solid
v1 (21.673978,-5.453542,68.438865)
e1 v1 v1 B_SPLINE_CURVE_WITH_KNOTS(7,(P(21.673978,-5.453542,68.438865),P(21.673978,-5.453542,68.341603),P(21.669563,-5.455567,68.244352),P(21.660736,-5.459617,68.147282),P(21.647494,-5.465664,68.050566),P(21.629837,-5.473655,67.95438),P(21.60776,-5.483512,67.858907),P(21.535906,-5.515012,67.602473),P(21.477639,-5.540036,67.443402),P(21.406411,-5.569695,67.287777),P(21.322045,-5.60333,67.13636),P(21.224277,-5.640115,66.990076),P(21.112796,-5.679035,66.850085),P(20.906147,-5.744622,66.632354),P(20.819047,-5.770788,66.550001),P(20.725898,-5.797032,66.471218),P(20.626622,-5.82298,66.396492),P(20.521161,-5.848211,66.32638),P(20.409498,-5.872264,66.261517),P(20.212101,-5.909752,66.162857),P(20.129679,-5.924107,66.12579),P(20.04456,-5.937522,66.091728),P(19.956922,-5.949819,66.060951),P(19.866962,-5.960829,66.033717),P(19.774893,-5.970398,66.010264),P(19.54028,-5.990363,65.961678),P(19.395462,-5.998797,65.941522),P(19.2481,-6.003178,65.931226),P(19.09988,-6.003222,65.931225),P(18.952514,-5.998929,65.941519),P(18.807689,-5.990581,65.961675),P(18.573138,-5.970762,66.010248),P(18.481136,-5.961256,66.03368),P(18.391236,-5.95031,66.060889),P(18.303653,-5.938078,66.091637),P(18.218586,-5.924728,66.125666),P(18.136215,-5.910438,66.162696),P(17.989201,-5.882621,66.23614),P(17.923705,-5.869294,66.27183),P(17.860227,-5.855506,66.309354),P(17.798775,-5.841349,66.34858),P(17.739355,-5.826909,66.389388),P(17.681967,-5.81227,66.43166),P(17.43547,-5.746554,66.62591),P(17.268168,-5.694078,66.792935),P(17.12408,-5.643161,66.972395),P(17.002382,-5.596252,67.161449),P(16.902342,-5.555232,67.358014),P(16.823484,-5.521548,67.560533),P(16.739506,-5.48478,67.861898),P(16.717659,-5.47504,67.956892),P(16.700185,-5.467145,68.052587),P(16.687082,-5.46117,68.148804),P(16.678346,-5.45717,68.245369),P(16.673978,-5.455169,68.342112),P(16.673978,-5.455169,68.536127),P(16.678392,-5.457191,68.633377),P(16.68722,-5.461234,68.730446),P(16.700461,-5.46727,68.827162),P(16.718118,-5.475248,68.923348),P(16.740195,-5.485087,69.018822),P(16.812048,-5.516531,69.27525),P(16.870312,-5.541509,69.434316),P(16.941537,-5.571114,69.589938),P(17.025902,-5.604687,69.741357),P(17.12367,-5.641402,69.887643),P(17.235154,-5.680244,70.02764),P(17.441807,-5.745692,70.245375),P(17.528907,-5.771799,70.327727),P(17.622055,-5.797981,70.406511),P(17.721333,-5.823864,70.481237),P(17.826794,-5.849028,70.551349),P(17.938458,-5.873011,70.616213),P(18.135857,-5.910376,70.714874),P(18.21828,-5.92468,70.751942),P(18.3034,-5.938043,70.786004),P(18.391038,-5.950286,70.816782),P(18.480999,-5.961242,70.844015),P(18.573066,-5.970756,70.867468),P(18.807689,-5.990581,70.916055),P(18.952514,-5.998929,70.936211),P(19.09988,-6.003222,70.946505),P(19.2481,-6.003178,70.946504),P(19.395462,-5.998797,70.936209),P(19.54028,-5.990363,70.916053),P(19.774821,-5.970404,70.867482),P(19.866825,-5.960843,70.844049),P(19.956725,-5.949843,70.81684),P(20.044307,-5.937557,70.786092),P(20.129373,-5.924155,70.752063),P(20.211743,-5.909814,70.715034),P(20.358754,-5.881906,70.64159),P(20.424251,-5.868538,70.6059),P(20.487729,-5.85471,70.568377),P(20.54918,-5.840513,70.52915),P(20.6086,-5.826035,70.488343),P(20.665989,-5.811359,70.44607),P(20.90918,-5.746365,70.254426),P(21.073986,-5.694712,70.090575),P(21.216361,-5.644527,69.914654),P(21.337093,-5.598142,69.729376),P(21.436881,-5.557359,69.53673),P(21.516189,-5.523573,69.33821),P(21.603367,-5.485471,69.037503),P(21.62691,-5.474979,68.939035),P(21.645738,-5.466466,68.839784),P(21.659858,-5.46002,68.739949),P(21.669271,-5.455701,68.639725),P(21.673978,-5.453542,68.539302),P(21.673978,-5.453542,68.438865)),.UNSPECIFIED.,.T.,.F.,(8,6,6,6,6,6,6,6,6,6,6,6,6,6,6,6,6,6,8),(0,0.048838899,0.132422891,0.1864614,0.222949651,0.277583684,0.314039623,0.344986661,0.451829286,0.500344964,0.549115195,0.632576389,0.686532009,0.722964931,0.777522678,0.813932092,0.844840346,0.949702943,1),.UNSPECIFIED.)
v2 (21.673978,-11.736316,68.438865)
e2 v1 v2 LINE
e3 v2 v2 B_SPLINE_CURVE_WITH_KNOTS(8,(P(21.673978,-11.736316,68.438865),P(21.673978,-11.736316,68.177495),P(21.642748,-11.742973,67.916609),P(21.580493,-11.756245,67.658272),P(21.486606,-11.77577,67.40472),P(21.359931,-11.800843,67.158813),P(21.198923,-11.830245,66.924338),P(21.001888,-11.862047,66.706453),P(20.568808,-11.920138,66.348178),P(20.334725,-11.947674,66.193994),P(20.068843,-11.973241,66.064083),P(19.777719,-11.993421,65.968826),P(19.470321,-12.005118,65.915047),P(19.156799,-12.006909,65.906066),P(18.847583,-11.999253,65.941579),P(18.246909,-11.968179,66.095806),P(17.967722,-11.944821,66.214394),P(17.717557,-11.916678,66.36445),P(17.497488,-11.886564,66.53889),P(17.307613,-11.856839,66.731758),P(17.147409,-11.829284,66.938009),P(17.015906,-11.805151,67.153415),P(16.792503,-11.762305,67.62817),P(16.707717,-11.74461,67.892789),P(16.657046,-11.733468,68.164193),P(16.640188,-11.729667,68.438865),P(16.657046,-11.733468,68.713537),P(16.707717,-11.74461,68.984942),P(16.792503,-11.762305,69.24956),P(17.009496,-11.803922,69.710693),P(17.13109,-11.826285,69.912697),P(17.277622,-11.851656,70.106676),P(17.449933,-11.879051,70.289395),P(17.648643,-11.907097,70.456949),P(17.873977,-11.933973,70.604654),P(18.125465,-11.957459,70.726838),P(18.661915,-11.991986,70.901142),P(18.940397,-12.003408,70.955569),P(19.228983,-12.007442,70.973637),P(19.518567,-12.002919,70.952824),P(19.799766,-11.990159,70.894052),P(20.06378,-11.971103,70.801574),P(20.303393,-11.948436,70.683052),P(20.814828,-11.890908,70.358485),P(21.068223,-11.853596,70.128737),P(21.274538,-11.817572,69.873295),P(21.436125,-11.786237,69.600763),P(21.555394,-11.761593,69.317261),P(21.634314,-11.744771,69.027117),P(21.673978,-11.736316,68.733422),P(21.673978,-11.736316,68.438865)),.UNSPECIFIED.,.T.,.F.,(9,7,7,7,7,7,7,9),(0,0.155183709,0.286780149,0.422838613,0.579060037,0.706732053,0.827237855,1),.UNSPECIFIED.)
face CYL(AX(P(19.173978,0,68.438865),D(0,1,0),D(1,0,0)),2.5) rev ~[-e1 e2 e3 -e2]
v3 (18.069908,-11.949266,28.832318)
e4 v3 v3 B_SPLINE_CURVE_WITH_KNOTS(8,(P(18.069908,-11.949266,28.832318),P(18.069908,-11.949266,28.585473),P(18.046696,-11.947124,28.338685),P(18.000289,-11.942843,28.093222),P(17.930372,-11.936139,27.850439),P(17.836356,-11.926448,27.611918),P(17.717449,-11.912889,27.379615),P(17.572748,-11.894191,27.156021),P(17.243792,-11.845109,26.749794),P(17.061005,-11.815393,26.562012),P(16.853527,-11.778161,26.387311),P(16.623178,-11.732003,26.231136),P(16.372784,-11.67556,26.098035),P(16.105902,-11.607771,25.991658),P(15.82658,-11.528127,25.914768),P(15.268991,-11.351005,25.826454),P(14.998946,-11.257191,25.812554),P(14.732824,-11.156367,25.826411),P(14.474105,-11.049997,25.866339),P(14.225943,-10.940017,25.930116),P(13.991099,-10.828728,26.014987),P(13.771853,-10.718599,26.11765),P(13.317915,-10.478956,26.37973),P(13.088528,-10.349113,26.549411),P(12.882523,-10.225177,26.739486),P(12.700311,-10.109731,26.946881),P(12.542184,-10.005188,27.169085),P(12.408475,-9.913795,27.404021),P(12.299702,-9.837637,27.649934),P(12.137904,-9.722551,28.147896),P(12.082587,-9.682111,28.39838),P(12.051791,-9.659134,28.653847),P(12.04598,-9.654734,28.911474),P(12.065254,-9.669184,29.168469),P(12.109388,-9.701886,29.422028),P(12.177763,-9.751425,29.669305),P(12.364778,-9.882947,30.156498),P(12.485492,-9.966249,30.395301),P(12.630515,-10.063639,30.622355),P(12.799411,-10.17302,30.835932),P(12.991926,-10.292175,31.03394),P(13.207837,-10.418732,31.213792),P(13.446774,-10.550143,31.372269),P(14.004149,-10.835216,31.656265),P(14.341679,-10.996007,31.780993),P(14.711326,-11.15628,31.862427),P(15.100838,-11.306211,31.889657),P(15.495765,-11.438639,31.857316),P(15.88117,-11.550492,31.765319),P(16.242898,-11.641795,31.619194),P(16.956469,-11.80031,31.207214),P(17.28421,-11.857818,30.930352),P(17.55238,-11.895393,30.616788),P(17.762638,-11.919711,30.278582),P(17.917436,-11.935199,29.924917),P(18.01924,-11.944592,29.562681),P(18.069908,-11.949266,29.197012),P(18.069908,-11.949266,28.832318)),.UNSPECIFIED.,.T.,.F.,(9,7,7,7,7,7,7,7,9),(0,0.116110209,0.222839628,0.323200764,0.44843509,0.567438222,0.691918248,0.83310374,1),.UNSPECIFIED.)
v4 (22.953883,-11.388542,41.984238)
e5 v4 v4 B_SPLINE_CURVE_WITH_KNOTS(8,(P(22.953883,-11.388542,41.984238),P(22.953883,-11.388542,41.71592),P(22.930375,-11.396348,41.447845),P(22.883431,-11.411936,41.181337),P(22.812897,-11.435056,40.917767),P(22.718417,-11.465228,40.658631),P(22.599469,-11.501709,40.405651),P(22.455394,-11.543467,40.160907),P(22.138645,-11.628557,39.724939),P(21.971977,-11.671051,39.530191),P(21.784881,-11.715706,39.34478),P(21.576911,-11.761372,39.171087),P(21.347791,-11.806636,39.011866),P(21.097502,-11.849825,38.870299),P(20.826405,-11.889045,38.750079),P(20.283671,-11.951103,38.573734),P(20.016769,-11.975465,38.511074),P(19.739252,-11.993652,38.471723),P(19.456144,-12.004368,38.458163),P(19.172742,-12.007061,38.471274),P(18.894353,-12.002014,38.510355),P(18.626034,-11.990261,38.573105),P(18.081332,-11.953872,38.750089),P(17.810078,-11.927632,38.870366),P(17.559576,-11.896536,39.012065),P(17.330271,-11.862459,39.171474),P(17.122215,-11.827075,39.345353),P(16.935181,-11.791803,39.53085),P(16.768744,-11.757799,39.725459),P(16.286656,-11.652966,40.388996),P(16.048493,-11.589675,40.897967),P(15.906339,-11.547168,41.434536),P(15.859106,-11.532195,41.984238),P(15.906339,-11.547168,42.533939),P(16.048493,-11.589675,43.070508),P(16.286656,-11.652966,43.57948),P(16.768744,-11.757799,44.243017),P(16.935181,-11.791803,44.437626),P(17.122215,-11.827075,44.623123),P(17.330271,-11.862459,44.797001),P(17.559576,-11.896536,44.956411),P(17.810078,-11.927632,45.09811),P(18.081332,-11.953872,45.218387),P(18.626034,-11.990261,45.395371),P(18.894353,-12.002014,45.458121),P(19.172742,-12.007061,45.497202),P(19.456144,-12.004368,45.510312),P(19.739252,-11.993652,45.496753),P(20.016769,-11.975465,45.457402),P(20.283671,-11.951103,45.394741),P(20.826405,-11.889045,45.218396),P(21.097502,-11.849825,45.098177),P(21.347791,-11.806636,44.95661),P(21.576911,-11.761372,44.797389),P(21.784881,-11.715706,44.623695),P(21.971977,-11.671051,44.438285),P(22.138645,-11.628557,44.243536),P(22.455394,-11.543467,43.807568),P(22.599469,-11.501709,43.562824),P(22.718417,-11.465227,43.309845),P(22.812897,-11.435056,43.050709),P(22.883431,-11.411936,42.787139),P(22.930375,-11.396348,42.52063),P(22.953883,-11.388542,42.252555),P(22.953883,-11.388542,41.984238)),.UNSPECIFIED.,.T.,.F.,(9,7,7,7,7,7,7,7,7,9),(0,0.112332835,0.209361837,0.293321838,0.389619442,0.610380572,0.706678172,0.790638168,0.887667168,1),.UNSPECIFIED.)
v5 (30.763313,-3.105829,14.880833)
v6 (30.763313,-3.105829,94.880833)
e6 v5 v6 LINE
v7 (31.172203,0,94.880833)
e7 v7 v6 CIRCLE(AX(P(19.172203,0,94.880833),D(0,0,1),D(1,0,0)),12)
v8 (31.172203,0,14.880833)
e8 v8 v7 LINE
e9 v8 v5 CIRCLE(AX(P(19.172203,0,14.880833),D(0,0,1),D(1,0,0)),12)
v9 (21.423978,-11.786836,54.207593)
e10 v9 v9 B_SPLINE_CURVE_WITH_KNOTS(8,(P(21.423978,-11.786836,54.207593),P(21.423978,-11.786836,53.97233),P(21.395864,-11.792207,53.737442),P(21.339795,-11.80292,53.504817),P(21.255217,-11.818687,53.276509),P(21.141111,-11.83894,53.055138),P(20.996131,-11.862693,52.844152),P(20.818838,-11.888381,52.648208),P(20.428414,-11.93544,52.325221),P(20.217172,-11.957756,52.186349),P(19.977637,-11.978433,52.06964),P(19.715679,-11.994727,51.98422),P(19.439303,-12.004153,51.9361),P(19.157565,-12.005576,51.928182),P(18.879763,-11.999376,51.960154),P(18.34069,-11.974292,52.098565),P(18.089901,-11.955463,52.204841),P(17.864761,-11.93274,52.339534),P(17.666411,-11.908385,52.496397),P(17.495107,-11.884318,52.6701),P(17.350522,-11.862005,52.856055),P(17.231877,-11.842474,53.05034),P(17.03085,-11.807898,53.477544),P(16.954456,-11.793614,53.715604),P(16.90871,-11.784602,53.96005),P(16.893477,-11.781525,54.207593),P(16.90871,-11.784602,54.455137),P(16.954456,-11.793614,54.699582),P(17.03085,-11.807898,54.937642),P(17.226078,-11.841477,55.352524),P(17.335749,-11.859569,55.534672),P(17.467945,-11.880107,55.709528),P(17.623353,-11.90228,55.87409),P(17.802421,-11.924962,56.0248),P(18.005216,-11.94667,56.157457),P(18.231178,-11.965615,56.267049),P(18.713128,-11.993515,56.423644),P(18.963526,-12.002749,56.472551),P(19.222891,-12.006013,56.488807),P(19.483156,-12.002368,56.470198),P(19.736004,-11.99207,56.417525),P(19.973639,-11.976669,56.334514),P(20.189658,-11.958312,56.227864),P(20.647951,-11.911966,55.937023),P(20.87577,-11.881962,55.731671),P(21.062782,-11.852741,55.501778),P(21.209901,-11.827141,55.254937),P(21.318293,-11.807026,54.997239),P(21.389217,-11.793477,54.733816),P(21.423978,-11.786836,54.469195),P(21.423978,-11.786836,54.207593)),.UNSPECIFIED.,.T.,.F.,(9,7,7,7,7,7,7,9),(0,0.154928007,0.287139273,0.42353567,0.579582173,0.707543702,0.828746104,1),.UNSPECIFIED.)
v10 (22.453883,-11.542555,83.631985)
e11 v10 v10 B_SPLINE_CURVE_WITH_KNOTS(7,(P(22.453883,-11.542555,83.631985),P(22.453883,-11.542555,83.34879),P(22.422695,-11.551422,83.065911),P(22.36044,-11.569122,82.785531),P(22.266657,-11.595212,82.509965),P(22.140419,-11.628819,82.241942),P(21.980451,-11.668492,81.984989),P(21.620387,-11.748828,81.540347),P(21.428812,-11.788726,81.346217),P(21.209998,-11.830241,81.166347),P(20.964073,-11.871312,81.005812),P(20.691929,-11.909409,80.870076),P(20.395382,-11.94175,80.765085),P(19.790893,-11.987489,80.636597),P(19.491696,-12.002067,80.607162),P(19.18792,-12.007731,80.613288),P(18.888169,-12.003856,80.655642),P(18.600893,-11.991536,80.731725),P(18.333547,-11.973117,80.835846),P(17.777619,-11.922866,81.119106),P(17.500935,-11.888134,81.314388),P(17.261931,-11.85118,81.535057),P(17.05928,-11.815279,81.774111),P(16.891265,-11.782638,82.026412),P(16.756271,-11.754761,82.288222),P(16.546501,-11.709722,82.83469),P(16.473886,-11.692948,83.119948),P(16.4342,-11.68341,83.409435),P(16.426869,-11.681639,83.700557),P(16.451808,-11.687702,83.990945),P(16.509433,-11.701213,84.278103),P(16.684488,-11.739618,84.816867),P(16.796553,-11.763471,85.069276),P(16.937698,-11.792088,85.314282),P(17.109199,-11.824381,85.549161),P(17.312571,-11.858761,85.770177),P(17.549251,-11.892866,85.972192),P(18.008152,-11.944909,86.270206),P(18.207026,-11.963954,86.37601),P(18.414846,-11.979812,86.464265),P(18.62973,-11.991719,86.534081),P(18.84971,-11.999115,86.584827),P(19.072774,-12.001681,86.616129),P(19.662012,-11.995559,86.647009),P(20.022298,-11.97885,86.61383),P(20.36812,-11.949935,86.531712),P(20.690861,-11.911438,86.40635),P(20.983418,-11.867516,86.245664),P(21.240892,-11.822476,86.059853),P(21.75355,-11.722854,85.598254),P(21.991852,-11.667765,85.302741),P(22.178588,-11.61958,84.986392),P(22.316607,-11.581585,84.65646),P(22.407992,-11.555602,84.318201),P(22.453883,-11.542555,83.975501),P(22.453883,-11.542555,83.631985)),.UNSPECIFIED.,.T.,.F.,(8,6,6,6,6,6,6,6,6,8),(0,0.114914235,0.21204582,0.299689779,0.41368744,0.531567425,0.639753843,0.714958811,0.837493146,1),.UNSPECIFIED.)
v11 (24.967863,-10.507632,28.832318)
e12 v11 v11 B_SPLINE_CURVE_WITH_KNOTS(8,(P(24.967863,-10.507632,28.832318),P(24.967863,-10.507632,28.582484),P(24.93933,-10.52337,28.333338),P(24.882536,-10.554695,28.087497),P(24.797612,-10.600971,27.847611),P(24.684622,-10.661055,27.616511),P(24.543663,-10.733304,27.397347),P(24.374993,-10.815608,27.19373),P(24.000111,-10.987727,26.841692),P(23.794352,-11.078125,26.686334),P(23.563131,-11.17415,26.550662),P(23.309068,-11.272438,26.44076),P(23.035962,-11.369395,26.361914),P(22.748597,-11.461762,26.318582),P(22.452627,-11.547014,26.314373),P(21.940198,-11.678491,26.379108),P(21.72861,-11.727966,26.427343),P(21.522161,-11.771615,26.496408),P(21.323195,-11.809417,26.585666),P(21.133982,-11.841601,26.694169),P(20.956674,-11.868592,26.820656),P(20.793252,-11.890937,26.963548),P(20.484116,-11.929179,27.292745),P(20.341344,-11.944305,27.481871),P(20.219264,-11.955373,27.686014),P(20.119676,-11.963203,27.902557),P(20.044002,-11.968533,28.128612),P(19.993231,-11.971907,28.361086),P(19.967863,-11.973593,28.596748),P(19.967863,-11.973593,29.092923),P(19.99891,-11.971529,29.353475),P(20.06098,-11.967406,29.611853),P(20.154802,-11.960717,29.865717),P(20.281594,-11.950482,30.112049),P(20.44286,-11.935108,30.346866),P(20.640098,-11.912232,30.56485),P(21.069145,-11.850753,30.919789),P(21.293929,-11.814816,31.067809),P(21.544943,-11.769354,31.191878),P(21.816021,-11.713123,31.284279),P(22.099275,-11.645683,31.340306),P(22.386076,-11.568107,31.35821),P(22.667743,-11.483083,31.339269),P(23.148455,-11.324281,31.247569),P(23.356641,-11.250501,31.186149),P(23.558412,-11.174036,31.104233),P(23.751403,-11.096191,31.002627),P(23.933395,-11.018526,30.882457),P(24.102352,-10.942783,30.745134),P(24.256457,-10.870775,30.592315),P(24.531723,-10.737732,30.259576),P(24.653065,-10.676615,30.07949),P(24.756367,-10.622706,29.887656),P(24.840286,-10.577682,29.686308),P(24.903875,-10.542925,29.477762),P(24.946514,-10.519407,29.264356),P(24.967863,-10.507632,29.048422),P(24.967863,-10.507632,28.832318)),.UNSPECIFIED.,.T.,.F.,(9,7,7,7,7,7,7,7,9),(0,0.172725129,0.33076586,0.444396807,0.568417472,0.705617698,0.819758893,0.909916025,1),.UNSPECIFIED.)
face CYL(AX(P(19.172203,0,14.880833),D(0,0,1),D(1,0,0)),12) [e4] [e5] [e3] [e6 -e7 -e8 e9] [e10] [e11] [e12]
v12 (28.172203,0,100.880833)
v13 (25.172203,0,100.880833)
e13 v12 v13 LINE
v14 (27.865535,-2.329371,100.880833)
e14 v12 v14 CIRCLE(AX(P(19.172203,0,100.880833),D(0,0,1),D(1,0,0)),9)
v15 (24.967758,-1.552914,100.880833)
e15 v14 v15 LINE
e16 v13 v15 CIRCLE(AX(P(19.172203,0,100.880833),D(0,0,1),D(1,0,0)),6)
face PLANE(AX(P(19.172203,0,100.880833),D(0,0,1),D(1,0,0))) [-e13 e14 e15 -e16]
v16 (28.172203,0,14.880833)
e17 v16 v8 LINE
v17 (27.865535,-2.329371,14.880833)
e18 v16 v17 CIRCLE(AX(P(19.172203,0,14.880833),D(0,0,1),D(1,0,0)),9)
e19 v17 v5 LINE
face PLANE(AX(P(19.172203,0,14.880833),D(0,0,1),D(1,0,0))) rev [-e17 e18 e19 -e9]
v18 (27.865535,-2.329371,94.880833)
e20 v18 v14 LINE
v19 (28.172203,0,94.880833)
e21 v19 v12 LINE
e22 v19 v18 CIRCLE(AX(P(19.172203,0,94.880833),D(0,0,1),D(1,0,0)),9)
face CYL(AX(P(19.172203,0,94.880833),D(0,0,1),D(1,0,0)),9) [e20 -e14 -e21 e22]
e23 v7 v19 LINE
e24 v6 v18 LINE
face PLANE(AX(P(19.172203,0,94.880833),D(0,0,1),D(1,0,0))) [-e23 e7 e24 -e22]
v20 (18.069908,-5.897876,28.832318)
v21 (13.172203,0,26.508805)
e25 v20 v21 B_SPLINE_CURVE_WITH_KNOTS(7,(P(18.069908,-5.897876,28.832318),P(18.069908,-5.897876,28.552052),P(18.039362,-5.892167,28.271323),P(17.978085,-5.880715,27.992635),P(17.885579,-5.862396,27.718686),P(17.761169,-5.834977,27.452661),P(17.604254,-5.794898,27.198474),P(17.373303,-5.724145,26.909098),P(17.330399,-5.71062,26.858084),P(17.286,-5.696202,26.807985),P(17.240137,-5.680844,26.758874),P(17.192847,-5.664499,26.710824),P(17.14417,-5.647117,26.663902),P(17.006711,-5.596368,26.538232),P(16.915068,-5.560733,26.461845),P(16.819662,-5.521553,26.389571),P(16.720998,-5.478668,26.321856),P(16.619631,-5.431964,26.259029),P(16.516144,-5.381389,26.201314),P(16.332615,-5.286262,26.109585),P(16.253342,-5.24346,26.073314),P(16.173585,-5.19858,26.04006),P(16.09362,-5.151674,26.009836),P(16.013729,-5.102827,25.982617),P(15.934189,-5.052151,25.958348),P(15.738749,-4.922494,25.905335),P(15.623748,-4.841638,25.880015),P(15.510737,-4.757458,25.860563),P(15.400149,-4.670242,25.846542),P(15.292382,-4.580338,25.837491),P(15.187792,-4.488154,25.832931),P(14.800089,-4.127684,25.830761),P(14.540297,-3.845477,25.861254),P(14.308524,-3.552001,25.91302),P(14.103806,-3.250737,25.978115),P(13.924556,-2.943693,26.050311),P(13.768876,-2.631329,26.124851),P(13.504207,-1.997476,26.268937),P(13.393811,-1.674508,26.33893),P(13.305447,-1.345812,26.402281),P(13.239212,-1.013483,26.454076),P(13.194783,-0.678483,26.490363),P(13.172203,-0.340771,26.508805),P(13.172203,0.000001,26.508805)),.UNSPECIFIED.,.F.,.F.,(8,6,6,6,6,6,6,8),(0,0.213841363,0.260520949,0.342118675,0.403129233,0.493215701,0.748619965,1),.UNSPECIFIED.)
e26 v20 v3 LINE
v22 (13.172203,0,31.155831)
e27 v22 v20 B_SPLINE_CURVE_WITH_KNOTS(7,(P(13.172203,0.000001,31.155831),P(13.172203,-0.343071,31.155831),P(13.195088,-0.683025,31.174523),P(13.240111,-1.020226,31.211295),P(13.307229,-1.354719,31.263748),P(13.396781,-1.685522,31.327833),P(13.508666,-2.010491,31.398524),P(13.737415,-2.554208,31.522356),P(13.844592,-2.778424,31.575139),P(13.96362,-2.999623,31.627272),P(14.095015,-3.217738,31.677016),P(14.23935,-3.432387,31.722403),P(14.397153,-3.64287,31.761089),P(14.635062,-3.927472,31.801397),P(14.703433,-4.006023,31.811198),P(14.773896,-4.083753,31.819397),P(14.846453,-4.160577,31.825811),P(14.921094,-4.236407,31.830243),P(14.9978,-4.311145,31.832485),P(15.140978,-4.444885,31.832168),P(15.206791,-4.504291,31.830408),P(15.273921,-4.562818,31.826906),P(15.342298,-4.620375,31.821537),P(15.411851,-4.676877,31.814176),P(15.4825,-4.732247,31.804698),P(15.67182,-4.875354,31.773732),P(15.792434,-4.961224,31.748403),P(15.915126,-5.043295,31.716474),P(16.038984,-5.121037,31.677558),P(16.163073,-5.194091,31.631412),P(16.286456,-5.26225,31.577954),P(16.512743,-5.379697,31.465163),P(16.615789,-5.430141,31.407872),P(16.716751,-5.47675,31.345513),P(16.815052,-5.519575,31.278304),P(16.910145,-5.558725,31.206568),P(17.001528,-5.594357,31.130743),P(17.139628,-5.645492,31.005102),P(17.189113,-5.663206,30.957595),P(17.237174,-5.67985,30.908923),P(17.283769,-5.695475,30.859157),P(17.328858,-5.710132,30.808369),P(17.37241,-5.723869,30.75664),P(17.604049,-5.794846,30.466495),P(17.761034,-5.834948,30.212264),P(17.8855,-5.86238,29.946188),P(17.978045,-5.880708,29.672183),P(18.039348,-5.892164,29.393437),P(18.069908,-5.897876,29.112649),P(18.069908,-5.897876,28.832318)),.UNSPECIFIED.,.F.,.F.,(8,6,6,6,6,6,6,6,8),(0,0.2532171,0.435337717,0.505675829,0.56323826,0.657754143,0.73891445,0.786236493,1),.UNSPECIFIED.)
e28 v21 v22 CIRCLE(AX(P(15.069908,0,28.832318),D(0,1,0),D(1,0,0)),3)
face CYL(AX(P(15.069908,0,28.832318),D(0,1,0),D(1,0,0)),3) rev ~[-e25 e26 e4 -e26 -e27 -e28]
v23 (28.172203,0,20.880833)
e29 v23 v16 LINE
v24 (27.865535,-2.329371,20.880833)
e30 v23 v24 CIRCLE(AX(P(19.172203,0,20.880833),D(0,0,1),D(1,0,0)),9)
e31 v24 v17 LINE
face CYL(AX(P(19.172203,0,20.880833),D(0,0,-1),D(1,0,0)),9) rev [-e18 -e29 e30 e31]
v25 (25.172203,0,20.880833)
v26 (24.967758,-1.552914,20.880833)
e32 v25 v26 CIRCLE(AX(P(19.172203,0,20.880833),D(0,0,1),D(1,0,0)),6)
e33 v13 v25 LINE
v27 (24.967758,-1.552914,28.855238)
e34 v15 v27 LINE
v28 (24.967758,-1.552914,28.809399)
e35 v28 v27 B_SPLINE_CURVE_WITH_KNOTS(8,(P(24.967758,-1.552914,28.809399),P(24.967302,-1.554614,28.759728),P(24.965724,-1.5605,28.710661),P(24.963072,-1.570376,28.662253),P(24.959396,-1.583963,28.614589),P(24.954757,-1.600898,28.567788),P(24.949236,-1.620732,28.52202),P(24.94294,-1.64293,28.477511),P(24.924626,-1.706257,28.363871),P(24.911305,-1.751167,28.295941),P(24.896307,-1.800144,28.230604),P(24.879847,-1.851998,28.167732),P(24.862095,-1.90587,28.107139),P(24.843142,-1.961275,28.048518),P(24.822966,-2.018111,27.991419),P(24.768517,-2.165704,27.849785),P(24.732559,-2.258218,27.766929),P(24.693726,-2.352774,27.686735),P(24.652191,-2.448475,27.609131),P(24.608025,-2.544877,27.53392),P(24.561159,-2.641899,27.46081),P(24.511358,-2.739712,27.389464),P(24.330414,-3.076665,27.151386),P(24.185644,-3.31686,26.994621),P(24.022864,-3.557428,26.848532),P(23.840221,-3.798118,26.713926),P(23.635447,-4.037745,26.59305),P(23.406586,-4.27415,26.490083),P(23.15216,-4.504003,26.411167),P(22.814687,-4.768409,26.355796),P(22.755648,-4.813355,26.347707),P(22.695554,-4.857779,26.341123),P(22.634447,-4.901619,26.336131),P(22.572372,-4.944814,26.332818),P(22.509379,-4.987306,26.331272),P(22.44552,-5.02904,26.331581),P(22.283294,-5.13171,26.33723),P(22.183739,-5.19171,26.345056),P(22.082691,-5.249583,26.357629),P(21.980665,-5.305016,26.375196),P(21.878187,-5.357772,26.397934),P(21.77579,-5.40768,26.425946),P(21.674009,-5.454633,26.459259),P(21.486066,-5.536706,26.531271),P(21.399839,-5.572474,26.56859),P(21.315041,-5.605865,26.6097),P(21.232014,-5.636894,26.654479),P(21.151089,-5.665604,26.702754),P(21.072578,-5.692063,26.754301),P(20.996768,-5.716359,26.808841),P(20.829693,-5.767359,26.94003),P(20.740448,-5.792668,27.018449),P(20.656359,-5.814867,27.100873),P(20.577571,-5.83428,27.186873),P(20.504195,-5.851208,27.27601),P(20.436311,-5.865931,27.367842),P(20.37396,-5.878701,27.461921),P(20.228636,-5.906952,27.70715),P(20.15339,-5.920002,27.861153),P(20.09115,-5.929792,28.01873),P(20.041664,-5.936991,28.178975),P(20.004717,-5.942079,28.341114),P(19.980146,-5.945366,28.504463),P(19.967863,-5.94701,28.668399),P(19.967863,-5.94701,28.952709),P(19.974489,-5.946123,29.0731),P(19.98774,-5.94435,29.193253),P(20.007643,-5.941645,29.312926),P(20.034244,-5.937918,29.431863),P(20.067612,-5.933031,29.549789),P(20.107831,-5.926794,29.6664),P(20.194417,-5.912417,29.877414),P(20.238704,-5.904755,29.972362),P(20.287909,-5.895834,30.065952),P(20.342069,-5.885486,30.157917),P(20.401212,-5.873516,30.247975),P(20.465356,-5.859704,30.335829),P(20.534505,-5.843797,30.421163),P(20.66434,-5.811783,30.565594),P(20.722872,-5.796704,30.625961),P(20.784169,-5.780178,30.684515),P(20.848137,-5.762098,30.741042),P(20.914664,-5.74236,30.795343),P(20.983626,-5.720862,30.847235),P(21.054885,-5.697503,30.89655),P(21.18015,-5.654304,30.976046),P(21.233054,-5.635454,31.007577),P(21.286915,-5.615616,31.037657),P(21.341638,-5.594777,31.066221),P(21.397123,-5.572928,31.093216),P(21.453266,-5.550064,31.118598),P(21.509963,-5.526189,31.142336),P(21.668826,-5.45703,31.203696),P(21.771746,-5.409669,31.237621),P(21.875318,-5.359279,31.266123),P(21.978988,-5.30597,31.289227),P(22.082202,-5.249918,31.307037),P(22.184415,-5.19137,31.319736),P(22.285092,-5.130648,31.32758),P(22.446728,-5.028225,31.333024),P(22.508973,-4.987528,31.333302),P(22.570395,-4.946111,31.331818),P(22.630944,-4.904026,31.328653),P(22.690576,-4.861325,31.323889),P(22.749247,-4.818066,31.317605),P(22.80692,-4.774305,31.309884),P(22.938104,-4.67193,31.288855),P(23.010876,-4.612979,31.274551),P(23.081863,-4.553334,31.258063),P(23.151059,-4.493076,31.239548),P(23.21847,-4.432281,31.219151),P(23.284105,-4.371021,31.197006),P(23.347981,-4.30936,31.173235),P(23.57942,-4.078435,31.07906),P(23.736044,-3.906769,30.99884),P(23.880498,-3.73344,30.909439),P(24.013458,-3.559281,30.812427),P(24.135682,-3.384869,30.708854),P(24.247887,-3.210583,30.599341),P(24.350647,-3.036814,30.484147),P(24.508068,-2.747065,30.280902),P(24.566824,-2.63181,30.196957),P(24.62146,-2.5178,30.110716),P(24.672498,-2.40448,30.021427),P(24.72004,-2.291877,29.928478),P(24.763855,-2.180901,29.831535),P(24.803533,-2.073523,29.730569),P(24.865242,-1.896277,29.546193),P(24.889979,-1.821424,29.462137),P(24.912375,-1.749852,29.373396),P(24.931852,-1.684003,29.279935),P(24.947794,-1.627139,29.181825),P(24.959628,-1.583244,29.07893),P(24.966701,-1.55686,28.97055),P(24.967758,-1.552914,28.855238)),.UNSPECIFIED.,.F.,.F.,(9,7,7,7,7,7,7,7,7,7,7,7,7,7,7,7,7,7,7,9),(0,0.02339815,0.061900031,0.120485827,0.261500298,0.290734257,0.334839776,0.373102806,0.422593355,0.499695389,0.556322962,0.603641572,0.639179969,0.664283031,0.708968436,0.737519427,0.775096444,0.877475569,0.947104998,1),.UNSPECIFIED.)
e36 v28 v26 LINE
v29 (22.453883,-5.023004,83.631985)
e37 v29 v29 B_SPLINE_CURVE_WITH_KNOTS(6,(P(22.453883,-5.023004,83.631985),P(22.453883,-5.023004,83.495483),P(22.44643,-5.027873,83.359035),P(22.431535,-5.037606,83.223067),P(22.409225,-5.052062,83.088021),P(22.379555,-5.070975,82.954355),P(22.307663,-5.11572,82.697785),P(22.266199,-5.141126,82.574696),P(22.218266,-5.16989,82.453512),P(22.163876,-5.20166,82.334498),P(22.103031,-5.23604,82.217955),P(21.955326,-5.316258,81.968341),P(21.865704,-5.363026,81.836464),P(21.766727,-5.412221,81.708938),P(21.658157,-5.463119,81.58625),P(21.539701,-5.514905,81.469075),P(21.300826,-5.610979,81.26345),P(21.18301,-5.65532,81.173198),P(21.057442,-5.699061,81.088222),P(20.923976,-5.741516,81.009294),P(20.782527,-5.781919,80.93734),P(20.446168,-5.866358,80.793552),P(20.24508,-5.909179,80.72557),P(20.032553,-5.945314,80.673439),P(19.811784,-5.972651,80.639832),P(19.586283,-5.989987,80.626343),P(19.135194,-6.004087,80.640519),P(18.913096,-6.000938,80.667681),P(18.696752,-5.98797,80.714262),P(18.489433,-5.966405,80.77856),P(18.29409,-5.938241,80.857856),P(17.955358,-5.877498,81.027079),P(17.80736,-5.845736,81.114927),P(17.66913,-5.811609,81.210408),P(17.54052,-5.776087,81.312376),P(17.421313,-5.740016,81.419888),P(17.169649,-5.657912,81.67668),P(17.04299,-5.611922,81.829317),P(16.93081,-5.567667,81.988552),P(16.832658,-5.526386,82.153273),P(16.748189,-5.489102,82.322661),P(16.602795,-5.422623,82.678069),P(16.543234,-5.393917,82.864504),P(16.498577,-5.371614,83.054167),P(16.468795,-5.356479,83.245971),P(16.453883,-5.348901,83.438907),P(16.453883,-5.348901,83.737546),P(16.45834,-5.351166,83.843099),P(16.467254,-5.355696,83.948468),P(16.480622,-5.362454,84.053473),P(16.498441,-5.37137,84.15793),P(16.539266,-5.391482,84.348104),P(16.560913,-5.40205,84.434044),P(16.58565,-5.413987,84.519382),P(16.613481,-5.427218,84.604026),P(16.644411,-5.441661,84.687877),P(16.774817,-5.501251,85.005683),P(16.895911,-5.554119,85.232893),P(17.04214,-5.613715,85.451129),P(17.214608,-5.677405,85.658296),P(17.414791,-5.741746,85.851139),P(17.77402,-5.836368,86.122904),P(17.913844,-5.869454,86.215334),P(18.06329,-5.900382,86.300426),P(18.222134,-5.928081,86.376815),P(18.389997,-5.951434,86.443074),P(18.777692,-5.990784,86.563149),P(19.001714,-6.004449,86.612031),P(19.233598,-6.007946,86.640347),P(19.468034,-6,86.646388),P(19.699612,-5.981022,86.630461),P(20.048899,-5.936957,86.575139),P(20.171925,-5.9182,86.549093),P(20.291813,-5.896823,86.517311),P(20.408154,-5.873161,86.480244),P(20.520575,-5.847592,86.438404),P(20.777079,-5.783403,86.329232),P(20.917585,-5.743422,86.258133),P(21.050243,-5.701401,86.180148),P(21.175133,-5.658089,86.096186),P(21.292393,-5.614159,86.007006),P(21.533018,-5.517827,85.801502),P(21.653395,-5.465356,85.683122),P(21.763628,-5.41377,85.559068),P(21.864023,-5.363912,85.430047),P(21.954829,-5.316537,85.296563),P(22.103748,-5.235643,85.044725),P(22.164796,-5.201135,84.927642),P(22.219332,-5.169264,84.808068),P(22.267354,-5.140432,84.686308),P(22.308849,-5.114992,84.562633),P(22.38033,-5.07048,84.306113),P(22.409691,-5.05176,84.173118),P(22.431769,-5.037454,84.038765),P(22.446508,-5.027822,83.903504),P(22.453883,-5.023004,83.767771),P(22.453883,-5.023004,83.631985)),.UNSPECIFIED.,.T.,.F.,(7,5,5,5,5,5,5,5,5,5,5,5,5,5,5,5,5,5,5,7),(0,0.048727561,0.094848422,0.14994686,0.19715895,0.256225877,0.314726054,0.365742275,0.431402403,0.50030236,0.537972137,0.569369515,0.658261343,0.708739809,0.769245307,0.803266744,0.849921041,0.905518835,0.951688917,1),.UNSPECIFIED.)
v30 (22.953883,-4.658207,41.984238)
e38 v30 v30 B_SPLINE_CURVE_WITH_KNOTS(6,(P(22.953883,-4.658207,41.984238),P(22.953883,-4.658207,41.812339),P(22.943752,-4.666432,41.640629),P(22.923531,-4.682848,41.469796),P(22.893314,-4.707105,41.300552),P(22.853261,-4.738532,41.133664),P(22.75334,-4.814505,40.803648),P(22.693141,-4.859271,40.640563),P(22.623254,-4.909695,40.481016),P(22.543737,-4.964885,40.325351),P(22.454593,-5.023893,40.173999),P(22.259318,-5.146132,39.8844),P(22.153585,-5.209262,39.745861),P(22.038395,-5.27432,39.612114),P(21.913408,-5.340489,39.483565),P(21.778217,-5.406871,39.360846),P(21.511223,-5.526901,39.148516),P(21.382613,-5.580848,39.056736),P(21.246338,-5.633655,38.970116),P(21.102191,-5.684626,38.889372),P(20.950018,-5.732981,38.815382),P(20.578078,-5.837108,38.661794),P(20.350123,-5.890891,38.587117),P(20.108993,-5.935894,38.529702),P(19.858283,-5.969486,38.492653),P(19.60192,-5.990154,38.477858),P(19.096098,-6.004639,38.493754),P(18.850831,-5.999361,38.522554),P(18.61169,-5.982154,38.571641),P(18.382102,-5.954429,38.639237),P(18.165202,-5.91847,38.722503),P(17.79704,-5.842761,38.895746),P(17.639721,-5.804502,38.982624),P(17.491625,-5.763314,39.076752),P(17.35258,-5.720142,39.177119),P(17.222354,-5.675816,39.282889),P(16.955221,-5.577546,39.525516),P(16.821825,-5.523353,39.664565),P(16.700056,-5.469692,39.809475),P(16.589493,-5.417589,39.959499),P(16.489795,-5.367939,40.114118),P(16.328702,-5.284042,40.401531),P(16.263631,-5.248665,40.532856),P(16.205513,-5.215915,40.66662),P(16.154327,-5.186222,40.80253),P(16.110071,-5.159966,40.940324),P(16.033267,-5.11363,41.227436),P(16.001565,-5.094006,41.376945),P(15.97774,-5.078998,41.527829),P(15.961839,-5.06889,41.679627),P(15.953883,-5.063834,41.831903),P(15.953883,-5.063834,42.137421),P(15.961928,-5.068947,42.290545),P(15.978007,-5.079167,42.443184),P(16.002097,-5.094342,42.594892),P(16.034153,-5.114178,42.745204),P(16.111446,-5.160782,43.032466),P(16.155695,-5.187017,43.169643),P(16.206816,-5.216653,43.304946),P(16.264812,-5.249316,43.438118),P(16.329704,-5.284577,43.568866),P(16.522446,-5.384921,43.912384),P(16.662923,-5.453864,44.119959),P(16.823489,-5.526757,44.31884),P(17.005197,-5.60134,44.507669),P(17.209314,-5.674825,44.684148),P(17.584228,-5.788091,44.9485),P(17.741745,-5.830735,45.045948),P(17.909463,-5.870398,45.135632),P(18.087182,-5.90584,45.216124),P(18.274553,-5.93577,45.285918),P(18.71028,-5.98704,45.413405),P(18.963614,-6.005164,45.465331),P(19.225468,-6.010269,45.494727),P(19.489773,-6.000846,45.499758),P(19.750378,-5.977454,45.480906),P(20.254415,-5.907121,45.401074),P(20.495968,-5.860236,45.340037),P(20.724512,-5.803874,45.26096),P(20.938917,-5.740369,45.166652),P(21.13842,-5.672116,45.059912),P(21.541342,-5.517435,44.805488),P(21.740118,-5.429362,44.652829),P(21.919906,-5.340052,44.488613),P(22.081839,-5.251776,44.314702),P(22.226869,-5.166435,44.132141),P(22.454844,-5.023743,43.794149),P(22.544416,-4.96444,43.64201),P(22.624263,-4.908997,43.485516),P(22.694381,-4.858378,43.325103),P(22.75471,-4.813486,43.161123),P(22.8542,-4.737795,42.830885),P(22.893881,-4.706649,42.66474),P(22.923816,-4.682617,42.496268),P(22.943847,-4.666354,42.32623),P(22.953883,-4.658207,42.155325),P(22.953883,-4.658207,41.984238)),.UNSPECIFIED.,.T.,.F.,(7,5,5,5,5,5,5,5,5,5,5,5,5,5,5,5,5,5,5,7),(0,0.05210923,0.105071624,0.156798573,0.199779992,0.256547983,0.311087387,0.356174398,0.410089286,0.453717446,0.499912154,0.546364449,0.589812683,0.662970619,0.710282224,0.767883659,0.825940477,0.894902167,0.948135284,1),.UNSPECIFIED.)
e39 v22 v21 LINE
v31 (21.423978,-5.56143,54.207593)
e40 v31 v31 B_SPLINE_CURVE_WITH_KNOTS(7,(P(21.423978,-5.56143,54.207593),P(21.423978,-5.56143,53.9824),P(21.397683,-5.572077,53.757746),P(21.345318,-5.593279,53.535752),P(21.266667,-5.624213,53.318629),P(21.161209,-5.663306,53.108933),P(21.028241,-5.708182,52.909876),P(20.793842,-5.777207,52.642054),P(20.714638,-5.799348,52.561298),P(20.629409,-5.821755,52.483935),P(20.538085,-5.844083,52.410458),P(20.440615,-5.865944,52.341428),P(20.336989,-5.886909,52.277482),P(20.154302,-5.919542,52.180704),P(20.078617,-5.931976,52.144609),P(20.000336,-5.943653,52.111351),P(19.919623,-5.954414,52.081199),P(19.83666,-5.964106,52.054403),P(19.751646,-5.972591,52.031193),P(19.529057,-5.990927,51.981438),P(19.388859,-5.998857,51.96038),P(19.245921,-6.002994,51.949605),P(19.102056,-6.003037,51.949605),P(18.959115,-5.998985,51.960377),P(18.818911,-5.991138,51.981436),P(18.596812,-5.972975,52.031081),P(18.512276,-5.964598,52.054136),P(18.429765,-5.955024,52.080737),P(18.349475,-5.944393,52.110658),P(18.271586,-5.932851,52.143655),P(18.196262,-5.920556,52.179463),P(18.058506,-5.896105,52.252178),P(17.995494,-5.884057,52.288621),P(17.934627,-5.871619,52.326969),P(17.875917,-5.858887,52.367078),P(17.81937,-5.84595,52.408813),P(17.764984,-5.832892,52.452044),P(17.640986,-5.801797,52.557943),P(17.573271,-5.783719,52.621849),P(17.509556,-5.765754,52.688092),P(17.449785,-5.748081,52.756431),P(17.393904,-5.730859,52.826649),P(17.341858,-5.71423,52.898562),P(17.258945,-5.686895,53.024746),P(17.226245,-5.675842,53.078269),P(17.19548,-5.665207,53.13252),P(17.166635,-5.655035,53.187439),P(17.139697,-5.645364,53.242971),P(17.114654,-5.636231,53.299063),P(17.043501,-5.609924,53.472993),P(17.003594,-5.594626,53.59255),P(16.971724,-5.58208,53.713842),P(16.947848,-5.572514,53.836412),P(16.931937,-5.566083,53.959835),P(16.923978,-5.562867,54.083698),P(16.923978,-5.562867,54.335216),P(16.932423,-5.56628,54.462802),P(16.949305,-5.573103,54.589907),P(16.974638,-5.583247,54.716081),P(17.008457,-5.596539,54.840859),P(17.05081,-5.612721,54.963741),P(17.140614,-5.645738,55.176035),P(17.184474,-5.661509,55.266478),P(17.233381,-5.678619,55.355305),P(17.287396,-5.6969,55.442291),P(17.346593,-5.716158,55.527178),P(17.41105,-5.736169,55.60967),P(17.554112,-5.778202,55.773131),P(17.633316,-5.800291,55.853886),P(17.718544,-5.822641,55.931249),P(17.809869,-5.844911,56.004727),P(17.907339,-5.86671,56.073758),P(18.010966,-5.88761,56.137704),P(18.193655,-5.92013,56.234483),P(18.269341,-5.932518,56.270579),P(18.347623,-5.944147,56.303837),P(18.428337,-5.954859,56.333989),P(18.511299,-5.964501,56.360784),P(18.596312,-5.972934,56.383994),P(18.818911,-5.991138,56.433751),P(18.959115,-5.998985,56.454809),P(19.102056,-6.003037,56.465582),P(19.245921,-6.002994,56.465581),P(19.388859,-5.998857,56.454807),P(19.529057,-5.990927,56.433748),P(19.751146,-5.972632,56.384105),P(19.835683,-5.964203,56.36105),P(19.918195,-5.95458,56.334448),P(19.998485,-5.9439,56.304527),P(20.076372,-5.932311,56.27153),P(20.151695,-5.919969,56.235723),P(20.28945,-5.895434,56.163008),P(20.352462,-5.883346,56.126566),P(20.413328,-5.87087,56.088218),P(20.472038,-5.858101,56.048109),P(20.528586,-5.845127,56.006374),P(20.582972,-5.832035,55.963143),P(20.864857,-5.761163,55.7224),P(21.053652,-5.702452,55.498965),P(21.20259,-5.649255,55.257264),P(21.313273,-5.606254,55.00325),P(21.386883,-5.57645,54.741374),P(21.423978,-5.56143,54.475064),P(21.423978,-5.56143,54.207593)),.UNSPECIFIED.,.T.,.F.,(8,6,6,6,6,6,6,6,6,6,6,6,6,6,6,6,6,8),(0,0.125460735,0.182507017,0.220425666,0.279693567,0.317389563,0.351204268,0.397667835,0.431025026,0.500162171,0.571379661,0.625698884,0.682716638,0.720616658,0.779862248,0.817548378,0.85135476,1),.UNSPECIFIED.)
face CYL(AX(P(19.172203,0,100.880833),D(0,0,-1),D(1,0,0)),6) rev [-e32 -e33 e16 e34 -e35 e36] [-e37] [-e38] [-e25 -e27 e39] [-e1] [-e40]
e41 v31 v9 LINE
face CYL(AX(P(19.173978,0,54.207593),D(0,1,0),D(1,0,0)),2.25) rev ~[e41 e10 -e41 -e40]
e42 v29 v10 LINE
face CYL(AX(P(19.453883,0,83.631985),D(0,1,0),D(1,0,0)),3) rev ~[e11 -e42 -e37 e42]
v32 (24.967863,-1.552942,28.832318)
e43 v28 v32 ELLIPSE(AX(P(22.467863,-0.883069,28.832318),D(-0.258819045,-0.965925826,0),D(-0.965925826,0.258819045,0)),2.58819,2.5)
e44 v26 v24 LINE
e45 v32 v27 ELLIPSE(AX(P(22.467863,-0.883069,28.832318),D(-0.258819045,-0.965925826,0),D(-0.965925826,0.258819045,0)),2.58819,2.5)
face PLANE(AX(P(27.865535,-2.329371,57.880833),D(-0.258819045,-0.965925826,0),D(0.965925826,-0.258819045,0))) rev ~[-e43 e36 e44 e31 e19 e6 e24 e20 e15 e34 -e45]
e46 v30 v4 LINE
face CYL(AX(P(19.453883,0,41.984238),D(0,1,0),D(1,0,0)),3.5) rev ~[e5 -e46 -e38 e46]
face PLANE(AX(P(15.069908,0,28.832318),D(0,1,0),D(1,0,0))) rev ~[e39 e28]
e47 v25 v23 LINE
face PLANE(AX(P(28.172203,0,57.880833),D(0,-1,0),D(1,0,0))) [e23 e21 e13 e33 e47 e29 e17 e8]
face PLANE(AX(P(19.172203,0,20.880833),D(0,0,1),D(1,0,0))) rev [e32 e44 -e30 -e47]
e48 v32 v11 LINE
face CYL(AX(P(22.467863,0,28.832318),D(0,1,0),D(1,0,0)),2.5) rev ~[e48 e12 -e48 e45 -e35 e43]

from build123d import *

# Parameters (mm, degrees)
F1_ANGLE  = 345
F8_D      = 6
F8_DEPTH  = 12.001
F9_D      = 5
F9_DEPTH  = 12.0010001
F10_D     = 4.5
F10_DEPTH = 12.0010001006
F11_D     = 7
F11_DEPTH = 12.0010001006
F12_D     = 6
F12_DEPTH = 12.001000103
F13_D     = 5
F13_DEPTH = 12.001000103


with BuildPart() as f1:
    # F0 (on Front) → F1 (revolve)
    with BuildSketch(Plane.XZ):
        Polygon((25.1722027957, 100.8808328976), (25.1722027957, 20.8808328976), (28.1722027957, 20.8808328976), (28.1722027957, 14.8808328976), (31.1722027957, 14.8808328976), (31.1722027957, 94.8808328976), (28.1722027957, 94.8808328976), (28.1722027957, 100.8808328976), align=None)
    revolve(axis=Axis((19.1722027957, 0, 37.7046503127), (0, 0, 1)), revolution_arc=F1_ANGLE)

    # F8 (through all, one way)
    with BuildSketch(Plane(origin=(0, 0, 0), x_dir=(1, 0, 0), z_dir=(0, 1, 0))):
        with Locations((19.4538831711, -83.6319848895)):
            Circle(F8_D / 2)
    extrude(amount=-F8_DEPTH, mode=Mode.SUBTRACT)

    # F9 (through all, one way)
    with BuildSketch(Plane(origin=(0, 0, 0), x_dir=(1, 0, 0), z_dir=(0, 1, 0))):
        with Locations((19.1739778966, -68.4388652444)):
            Circle(F9_D / 2)
    extrude(amount=-F9_DEPTH, mode=Mode.SUBTRACT)

    # F10 (through all, one way)
    with BuildSketch(Plane(origin=(0, 0, 0), x_dir=(1, 0, 0), z_dir=(0, 1, 0))):
        with Locations((19.1739778966, -54.2075932026)):
            Circle(F10_D / 2)
    extrude(amount=-F10_DEPTH, mode=Mode.SUBTRACT)

    # F11 (through all, one way)
    with BuildSketch(Plane(origin=(0, 0, 0), x_dir=(1, 0, 0), z_dir=(0, 1, 0))):
        with Locations((19.4538831711, -41.9842377305)):
            Circle(F11_D / 2)
    extrude(amount=-F11_DEPTH, mode=Mode.SUBTRACT)

    # F12 (through all, one way)
    with BuildSketch(Plane(origin=(0, 0, 0), x_dir=(1, 0, 0), z_dir=(0, 1, 0))):
        with Locations((15.0699084625, -28.8323182613)):
            Circle(F12_D / 2)
    extrude(amount=-F12_DEPTH, mode=Mode.SUBTRACT)

    # F13 (through all, one way)
    with BuildSketch(Plane(origin=(0, 0, 0), x_dir=(1, 0, 0), z_dir=(0, 1, 0))):
        with Locations((22.4678628147, -28.8323182613)):
            Circle(F13_D / 2)
    extrude(amount=-F13_DEPTH, mode=Mode.SUBTRACT)


solid = f1.part
